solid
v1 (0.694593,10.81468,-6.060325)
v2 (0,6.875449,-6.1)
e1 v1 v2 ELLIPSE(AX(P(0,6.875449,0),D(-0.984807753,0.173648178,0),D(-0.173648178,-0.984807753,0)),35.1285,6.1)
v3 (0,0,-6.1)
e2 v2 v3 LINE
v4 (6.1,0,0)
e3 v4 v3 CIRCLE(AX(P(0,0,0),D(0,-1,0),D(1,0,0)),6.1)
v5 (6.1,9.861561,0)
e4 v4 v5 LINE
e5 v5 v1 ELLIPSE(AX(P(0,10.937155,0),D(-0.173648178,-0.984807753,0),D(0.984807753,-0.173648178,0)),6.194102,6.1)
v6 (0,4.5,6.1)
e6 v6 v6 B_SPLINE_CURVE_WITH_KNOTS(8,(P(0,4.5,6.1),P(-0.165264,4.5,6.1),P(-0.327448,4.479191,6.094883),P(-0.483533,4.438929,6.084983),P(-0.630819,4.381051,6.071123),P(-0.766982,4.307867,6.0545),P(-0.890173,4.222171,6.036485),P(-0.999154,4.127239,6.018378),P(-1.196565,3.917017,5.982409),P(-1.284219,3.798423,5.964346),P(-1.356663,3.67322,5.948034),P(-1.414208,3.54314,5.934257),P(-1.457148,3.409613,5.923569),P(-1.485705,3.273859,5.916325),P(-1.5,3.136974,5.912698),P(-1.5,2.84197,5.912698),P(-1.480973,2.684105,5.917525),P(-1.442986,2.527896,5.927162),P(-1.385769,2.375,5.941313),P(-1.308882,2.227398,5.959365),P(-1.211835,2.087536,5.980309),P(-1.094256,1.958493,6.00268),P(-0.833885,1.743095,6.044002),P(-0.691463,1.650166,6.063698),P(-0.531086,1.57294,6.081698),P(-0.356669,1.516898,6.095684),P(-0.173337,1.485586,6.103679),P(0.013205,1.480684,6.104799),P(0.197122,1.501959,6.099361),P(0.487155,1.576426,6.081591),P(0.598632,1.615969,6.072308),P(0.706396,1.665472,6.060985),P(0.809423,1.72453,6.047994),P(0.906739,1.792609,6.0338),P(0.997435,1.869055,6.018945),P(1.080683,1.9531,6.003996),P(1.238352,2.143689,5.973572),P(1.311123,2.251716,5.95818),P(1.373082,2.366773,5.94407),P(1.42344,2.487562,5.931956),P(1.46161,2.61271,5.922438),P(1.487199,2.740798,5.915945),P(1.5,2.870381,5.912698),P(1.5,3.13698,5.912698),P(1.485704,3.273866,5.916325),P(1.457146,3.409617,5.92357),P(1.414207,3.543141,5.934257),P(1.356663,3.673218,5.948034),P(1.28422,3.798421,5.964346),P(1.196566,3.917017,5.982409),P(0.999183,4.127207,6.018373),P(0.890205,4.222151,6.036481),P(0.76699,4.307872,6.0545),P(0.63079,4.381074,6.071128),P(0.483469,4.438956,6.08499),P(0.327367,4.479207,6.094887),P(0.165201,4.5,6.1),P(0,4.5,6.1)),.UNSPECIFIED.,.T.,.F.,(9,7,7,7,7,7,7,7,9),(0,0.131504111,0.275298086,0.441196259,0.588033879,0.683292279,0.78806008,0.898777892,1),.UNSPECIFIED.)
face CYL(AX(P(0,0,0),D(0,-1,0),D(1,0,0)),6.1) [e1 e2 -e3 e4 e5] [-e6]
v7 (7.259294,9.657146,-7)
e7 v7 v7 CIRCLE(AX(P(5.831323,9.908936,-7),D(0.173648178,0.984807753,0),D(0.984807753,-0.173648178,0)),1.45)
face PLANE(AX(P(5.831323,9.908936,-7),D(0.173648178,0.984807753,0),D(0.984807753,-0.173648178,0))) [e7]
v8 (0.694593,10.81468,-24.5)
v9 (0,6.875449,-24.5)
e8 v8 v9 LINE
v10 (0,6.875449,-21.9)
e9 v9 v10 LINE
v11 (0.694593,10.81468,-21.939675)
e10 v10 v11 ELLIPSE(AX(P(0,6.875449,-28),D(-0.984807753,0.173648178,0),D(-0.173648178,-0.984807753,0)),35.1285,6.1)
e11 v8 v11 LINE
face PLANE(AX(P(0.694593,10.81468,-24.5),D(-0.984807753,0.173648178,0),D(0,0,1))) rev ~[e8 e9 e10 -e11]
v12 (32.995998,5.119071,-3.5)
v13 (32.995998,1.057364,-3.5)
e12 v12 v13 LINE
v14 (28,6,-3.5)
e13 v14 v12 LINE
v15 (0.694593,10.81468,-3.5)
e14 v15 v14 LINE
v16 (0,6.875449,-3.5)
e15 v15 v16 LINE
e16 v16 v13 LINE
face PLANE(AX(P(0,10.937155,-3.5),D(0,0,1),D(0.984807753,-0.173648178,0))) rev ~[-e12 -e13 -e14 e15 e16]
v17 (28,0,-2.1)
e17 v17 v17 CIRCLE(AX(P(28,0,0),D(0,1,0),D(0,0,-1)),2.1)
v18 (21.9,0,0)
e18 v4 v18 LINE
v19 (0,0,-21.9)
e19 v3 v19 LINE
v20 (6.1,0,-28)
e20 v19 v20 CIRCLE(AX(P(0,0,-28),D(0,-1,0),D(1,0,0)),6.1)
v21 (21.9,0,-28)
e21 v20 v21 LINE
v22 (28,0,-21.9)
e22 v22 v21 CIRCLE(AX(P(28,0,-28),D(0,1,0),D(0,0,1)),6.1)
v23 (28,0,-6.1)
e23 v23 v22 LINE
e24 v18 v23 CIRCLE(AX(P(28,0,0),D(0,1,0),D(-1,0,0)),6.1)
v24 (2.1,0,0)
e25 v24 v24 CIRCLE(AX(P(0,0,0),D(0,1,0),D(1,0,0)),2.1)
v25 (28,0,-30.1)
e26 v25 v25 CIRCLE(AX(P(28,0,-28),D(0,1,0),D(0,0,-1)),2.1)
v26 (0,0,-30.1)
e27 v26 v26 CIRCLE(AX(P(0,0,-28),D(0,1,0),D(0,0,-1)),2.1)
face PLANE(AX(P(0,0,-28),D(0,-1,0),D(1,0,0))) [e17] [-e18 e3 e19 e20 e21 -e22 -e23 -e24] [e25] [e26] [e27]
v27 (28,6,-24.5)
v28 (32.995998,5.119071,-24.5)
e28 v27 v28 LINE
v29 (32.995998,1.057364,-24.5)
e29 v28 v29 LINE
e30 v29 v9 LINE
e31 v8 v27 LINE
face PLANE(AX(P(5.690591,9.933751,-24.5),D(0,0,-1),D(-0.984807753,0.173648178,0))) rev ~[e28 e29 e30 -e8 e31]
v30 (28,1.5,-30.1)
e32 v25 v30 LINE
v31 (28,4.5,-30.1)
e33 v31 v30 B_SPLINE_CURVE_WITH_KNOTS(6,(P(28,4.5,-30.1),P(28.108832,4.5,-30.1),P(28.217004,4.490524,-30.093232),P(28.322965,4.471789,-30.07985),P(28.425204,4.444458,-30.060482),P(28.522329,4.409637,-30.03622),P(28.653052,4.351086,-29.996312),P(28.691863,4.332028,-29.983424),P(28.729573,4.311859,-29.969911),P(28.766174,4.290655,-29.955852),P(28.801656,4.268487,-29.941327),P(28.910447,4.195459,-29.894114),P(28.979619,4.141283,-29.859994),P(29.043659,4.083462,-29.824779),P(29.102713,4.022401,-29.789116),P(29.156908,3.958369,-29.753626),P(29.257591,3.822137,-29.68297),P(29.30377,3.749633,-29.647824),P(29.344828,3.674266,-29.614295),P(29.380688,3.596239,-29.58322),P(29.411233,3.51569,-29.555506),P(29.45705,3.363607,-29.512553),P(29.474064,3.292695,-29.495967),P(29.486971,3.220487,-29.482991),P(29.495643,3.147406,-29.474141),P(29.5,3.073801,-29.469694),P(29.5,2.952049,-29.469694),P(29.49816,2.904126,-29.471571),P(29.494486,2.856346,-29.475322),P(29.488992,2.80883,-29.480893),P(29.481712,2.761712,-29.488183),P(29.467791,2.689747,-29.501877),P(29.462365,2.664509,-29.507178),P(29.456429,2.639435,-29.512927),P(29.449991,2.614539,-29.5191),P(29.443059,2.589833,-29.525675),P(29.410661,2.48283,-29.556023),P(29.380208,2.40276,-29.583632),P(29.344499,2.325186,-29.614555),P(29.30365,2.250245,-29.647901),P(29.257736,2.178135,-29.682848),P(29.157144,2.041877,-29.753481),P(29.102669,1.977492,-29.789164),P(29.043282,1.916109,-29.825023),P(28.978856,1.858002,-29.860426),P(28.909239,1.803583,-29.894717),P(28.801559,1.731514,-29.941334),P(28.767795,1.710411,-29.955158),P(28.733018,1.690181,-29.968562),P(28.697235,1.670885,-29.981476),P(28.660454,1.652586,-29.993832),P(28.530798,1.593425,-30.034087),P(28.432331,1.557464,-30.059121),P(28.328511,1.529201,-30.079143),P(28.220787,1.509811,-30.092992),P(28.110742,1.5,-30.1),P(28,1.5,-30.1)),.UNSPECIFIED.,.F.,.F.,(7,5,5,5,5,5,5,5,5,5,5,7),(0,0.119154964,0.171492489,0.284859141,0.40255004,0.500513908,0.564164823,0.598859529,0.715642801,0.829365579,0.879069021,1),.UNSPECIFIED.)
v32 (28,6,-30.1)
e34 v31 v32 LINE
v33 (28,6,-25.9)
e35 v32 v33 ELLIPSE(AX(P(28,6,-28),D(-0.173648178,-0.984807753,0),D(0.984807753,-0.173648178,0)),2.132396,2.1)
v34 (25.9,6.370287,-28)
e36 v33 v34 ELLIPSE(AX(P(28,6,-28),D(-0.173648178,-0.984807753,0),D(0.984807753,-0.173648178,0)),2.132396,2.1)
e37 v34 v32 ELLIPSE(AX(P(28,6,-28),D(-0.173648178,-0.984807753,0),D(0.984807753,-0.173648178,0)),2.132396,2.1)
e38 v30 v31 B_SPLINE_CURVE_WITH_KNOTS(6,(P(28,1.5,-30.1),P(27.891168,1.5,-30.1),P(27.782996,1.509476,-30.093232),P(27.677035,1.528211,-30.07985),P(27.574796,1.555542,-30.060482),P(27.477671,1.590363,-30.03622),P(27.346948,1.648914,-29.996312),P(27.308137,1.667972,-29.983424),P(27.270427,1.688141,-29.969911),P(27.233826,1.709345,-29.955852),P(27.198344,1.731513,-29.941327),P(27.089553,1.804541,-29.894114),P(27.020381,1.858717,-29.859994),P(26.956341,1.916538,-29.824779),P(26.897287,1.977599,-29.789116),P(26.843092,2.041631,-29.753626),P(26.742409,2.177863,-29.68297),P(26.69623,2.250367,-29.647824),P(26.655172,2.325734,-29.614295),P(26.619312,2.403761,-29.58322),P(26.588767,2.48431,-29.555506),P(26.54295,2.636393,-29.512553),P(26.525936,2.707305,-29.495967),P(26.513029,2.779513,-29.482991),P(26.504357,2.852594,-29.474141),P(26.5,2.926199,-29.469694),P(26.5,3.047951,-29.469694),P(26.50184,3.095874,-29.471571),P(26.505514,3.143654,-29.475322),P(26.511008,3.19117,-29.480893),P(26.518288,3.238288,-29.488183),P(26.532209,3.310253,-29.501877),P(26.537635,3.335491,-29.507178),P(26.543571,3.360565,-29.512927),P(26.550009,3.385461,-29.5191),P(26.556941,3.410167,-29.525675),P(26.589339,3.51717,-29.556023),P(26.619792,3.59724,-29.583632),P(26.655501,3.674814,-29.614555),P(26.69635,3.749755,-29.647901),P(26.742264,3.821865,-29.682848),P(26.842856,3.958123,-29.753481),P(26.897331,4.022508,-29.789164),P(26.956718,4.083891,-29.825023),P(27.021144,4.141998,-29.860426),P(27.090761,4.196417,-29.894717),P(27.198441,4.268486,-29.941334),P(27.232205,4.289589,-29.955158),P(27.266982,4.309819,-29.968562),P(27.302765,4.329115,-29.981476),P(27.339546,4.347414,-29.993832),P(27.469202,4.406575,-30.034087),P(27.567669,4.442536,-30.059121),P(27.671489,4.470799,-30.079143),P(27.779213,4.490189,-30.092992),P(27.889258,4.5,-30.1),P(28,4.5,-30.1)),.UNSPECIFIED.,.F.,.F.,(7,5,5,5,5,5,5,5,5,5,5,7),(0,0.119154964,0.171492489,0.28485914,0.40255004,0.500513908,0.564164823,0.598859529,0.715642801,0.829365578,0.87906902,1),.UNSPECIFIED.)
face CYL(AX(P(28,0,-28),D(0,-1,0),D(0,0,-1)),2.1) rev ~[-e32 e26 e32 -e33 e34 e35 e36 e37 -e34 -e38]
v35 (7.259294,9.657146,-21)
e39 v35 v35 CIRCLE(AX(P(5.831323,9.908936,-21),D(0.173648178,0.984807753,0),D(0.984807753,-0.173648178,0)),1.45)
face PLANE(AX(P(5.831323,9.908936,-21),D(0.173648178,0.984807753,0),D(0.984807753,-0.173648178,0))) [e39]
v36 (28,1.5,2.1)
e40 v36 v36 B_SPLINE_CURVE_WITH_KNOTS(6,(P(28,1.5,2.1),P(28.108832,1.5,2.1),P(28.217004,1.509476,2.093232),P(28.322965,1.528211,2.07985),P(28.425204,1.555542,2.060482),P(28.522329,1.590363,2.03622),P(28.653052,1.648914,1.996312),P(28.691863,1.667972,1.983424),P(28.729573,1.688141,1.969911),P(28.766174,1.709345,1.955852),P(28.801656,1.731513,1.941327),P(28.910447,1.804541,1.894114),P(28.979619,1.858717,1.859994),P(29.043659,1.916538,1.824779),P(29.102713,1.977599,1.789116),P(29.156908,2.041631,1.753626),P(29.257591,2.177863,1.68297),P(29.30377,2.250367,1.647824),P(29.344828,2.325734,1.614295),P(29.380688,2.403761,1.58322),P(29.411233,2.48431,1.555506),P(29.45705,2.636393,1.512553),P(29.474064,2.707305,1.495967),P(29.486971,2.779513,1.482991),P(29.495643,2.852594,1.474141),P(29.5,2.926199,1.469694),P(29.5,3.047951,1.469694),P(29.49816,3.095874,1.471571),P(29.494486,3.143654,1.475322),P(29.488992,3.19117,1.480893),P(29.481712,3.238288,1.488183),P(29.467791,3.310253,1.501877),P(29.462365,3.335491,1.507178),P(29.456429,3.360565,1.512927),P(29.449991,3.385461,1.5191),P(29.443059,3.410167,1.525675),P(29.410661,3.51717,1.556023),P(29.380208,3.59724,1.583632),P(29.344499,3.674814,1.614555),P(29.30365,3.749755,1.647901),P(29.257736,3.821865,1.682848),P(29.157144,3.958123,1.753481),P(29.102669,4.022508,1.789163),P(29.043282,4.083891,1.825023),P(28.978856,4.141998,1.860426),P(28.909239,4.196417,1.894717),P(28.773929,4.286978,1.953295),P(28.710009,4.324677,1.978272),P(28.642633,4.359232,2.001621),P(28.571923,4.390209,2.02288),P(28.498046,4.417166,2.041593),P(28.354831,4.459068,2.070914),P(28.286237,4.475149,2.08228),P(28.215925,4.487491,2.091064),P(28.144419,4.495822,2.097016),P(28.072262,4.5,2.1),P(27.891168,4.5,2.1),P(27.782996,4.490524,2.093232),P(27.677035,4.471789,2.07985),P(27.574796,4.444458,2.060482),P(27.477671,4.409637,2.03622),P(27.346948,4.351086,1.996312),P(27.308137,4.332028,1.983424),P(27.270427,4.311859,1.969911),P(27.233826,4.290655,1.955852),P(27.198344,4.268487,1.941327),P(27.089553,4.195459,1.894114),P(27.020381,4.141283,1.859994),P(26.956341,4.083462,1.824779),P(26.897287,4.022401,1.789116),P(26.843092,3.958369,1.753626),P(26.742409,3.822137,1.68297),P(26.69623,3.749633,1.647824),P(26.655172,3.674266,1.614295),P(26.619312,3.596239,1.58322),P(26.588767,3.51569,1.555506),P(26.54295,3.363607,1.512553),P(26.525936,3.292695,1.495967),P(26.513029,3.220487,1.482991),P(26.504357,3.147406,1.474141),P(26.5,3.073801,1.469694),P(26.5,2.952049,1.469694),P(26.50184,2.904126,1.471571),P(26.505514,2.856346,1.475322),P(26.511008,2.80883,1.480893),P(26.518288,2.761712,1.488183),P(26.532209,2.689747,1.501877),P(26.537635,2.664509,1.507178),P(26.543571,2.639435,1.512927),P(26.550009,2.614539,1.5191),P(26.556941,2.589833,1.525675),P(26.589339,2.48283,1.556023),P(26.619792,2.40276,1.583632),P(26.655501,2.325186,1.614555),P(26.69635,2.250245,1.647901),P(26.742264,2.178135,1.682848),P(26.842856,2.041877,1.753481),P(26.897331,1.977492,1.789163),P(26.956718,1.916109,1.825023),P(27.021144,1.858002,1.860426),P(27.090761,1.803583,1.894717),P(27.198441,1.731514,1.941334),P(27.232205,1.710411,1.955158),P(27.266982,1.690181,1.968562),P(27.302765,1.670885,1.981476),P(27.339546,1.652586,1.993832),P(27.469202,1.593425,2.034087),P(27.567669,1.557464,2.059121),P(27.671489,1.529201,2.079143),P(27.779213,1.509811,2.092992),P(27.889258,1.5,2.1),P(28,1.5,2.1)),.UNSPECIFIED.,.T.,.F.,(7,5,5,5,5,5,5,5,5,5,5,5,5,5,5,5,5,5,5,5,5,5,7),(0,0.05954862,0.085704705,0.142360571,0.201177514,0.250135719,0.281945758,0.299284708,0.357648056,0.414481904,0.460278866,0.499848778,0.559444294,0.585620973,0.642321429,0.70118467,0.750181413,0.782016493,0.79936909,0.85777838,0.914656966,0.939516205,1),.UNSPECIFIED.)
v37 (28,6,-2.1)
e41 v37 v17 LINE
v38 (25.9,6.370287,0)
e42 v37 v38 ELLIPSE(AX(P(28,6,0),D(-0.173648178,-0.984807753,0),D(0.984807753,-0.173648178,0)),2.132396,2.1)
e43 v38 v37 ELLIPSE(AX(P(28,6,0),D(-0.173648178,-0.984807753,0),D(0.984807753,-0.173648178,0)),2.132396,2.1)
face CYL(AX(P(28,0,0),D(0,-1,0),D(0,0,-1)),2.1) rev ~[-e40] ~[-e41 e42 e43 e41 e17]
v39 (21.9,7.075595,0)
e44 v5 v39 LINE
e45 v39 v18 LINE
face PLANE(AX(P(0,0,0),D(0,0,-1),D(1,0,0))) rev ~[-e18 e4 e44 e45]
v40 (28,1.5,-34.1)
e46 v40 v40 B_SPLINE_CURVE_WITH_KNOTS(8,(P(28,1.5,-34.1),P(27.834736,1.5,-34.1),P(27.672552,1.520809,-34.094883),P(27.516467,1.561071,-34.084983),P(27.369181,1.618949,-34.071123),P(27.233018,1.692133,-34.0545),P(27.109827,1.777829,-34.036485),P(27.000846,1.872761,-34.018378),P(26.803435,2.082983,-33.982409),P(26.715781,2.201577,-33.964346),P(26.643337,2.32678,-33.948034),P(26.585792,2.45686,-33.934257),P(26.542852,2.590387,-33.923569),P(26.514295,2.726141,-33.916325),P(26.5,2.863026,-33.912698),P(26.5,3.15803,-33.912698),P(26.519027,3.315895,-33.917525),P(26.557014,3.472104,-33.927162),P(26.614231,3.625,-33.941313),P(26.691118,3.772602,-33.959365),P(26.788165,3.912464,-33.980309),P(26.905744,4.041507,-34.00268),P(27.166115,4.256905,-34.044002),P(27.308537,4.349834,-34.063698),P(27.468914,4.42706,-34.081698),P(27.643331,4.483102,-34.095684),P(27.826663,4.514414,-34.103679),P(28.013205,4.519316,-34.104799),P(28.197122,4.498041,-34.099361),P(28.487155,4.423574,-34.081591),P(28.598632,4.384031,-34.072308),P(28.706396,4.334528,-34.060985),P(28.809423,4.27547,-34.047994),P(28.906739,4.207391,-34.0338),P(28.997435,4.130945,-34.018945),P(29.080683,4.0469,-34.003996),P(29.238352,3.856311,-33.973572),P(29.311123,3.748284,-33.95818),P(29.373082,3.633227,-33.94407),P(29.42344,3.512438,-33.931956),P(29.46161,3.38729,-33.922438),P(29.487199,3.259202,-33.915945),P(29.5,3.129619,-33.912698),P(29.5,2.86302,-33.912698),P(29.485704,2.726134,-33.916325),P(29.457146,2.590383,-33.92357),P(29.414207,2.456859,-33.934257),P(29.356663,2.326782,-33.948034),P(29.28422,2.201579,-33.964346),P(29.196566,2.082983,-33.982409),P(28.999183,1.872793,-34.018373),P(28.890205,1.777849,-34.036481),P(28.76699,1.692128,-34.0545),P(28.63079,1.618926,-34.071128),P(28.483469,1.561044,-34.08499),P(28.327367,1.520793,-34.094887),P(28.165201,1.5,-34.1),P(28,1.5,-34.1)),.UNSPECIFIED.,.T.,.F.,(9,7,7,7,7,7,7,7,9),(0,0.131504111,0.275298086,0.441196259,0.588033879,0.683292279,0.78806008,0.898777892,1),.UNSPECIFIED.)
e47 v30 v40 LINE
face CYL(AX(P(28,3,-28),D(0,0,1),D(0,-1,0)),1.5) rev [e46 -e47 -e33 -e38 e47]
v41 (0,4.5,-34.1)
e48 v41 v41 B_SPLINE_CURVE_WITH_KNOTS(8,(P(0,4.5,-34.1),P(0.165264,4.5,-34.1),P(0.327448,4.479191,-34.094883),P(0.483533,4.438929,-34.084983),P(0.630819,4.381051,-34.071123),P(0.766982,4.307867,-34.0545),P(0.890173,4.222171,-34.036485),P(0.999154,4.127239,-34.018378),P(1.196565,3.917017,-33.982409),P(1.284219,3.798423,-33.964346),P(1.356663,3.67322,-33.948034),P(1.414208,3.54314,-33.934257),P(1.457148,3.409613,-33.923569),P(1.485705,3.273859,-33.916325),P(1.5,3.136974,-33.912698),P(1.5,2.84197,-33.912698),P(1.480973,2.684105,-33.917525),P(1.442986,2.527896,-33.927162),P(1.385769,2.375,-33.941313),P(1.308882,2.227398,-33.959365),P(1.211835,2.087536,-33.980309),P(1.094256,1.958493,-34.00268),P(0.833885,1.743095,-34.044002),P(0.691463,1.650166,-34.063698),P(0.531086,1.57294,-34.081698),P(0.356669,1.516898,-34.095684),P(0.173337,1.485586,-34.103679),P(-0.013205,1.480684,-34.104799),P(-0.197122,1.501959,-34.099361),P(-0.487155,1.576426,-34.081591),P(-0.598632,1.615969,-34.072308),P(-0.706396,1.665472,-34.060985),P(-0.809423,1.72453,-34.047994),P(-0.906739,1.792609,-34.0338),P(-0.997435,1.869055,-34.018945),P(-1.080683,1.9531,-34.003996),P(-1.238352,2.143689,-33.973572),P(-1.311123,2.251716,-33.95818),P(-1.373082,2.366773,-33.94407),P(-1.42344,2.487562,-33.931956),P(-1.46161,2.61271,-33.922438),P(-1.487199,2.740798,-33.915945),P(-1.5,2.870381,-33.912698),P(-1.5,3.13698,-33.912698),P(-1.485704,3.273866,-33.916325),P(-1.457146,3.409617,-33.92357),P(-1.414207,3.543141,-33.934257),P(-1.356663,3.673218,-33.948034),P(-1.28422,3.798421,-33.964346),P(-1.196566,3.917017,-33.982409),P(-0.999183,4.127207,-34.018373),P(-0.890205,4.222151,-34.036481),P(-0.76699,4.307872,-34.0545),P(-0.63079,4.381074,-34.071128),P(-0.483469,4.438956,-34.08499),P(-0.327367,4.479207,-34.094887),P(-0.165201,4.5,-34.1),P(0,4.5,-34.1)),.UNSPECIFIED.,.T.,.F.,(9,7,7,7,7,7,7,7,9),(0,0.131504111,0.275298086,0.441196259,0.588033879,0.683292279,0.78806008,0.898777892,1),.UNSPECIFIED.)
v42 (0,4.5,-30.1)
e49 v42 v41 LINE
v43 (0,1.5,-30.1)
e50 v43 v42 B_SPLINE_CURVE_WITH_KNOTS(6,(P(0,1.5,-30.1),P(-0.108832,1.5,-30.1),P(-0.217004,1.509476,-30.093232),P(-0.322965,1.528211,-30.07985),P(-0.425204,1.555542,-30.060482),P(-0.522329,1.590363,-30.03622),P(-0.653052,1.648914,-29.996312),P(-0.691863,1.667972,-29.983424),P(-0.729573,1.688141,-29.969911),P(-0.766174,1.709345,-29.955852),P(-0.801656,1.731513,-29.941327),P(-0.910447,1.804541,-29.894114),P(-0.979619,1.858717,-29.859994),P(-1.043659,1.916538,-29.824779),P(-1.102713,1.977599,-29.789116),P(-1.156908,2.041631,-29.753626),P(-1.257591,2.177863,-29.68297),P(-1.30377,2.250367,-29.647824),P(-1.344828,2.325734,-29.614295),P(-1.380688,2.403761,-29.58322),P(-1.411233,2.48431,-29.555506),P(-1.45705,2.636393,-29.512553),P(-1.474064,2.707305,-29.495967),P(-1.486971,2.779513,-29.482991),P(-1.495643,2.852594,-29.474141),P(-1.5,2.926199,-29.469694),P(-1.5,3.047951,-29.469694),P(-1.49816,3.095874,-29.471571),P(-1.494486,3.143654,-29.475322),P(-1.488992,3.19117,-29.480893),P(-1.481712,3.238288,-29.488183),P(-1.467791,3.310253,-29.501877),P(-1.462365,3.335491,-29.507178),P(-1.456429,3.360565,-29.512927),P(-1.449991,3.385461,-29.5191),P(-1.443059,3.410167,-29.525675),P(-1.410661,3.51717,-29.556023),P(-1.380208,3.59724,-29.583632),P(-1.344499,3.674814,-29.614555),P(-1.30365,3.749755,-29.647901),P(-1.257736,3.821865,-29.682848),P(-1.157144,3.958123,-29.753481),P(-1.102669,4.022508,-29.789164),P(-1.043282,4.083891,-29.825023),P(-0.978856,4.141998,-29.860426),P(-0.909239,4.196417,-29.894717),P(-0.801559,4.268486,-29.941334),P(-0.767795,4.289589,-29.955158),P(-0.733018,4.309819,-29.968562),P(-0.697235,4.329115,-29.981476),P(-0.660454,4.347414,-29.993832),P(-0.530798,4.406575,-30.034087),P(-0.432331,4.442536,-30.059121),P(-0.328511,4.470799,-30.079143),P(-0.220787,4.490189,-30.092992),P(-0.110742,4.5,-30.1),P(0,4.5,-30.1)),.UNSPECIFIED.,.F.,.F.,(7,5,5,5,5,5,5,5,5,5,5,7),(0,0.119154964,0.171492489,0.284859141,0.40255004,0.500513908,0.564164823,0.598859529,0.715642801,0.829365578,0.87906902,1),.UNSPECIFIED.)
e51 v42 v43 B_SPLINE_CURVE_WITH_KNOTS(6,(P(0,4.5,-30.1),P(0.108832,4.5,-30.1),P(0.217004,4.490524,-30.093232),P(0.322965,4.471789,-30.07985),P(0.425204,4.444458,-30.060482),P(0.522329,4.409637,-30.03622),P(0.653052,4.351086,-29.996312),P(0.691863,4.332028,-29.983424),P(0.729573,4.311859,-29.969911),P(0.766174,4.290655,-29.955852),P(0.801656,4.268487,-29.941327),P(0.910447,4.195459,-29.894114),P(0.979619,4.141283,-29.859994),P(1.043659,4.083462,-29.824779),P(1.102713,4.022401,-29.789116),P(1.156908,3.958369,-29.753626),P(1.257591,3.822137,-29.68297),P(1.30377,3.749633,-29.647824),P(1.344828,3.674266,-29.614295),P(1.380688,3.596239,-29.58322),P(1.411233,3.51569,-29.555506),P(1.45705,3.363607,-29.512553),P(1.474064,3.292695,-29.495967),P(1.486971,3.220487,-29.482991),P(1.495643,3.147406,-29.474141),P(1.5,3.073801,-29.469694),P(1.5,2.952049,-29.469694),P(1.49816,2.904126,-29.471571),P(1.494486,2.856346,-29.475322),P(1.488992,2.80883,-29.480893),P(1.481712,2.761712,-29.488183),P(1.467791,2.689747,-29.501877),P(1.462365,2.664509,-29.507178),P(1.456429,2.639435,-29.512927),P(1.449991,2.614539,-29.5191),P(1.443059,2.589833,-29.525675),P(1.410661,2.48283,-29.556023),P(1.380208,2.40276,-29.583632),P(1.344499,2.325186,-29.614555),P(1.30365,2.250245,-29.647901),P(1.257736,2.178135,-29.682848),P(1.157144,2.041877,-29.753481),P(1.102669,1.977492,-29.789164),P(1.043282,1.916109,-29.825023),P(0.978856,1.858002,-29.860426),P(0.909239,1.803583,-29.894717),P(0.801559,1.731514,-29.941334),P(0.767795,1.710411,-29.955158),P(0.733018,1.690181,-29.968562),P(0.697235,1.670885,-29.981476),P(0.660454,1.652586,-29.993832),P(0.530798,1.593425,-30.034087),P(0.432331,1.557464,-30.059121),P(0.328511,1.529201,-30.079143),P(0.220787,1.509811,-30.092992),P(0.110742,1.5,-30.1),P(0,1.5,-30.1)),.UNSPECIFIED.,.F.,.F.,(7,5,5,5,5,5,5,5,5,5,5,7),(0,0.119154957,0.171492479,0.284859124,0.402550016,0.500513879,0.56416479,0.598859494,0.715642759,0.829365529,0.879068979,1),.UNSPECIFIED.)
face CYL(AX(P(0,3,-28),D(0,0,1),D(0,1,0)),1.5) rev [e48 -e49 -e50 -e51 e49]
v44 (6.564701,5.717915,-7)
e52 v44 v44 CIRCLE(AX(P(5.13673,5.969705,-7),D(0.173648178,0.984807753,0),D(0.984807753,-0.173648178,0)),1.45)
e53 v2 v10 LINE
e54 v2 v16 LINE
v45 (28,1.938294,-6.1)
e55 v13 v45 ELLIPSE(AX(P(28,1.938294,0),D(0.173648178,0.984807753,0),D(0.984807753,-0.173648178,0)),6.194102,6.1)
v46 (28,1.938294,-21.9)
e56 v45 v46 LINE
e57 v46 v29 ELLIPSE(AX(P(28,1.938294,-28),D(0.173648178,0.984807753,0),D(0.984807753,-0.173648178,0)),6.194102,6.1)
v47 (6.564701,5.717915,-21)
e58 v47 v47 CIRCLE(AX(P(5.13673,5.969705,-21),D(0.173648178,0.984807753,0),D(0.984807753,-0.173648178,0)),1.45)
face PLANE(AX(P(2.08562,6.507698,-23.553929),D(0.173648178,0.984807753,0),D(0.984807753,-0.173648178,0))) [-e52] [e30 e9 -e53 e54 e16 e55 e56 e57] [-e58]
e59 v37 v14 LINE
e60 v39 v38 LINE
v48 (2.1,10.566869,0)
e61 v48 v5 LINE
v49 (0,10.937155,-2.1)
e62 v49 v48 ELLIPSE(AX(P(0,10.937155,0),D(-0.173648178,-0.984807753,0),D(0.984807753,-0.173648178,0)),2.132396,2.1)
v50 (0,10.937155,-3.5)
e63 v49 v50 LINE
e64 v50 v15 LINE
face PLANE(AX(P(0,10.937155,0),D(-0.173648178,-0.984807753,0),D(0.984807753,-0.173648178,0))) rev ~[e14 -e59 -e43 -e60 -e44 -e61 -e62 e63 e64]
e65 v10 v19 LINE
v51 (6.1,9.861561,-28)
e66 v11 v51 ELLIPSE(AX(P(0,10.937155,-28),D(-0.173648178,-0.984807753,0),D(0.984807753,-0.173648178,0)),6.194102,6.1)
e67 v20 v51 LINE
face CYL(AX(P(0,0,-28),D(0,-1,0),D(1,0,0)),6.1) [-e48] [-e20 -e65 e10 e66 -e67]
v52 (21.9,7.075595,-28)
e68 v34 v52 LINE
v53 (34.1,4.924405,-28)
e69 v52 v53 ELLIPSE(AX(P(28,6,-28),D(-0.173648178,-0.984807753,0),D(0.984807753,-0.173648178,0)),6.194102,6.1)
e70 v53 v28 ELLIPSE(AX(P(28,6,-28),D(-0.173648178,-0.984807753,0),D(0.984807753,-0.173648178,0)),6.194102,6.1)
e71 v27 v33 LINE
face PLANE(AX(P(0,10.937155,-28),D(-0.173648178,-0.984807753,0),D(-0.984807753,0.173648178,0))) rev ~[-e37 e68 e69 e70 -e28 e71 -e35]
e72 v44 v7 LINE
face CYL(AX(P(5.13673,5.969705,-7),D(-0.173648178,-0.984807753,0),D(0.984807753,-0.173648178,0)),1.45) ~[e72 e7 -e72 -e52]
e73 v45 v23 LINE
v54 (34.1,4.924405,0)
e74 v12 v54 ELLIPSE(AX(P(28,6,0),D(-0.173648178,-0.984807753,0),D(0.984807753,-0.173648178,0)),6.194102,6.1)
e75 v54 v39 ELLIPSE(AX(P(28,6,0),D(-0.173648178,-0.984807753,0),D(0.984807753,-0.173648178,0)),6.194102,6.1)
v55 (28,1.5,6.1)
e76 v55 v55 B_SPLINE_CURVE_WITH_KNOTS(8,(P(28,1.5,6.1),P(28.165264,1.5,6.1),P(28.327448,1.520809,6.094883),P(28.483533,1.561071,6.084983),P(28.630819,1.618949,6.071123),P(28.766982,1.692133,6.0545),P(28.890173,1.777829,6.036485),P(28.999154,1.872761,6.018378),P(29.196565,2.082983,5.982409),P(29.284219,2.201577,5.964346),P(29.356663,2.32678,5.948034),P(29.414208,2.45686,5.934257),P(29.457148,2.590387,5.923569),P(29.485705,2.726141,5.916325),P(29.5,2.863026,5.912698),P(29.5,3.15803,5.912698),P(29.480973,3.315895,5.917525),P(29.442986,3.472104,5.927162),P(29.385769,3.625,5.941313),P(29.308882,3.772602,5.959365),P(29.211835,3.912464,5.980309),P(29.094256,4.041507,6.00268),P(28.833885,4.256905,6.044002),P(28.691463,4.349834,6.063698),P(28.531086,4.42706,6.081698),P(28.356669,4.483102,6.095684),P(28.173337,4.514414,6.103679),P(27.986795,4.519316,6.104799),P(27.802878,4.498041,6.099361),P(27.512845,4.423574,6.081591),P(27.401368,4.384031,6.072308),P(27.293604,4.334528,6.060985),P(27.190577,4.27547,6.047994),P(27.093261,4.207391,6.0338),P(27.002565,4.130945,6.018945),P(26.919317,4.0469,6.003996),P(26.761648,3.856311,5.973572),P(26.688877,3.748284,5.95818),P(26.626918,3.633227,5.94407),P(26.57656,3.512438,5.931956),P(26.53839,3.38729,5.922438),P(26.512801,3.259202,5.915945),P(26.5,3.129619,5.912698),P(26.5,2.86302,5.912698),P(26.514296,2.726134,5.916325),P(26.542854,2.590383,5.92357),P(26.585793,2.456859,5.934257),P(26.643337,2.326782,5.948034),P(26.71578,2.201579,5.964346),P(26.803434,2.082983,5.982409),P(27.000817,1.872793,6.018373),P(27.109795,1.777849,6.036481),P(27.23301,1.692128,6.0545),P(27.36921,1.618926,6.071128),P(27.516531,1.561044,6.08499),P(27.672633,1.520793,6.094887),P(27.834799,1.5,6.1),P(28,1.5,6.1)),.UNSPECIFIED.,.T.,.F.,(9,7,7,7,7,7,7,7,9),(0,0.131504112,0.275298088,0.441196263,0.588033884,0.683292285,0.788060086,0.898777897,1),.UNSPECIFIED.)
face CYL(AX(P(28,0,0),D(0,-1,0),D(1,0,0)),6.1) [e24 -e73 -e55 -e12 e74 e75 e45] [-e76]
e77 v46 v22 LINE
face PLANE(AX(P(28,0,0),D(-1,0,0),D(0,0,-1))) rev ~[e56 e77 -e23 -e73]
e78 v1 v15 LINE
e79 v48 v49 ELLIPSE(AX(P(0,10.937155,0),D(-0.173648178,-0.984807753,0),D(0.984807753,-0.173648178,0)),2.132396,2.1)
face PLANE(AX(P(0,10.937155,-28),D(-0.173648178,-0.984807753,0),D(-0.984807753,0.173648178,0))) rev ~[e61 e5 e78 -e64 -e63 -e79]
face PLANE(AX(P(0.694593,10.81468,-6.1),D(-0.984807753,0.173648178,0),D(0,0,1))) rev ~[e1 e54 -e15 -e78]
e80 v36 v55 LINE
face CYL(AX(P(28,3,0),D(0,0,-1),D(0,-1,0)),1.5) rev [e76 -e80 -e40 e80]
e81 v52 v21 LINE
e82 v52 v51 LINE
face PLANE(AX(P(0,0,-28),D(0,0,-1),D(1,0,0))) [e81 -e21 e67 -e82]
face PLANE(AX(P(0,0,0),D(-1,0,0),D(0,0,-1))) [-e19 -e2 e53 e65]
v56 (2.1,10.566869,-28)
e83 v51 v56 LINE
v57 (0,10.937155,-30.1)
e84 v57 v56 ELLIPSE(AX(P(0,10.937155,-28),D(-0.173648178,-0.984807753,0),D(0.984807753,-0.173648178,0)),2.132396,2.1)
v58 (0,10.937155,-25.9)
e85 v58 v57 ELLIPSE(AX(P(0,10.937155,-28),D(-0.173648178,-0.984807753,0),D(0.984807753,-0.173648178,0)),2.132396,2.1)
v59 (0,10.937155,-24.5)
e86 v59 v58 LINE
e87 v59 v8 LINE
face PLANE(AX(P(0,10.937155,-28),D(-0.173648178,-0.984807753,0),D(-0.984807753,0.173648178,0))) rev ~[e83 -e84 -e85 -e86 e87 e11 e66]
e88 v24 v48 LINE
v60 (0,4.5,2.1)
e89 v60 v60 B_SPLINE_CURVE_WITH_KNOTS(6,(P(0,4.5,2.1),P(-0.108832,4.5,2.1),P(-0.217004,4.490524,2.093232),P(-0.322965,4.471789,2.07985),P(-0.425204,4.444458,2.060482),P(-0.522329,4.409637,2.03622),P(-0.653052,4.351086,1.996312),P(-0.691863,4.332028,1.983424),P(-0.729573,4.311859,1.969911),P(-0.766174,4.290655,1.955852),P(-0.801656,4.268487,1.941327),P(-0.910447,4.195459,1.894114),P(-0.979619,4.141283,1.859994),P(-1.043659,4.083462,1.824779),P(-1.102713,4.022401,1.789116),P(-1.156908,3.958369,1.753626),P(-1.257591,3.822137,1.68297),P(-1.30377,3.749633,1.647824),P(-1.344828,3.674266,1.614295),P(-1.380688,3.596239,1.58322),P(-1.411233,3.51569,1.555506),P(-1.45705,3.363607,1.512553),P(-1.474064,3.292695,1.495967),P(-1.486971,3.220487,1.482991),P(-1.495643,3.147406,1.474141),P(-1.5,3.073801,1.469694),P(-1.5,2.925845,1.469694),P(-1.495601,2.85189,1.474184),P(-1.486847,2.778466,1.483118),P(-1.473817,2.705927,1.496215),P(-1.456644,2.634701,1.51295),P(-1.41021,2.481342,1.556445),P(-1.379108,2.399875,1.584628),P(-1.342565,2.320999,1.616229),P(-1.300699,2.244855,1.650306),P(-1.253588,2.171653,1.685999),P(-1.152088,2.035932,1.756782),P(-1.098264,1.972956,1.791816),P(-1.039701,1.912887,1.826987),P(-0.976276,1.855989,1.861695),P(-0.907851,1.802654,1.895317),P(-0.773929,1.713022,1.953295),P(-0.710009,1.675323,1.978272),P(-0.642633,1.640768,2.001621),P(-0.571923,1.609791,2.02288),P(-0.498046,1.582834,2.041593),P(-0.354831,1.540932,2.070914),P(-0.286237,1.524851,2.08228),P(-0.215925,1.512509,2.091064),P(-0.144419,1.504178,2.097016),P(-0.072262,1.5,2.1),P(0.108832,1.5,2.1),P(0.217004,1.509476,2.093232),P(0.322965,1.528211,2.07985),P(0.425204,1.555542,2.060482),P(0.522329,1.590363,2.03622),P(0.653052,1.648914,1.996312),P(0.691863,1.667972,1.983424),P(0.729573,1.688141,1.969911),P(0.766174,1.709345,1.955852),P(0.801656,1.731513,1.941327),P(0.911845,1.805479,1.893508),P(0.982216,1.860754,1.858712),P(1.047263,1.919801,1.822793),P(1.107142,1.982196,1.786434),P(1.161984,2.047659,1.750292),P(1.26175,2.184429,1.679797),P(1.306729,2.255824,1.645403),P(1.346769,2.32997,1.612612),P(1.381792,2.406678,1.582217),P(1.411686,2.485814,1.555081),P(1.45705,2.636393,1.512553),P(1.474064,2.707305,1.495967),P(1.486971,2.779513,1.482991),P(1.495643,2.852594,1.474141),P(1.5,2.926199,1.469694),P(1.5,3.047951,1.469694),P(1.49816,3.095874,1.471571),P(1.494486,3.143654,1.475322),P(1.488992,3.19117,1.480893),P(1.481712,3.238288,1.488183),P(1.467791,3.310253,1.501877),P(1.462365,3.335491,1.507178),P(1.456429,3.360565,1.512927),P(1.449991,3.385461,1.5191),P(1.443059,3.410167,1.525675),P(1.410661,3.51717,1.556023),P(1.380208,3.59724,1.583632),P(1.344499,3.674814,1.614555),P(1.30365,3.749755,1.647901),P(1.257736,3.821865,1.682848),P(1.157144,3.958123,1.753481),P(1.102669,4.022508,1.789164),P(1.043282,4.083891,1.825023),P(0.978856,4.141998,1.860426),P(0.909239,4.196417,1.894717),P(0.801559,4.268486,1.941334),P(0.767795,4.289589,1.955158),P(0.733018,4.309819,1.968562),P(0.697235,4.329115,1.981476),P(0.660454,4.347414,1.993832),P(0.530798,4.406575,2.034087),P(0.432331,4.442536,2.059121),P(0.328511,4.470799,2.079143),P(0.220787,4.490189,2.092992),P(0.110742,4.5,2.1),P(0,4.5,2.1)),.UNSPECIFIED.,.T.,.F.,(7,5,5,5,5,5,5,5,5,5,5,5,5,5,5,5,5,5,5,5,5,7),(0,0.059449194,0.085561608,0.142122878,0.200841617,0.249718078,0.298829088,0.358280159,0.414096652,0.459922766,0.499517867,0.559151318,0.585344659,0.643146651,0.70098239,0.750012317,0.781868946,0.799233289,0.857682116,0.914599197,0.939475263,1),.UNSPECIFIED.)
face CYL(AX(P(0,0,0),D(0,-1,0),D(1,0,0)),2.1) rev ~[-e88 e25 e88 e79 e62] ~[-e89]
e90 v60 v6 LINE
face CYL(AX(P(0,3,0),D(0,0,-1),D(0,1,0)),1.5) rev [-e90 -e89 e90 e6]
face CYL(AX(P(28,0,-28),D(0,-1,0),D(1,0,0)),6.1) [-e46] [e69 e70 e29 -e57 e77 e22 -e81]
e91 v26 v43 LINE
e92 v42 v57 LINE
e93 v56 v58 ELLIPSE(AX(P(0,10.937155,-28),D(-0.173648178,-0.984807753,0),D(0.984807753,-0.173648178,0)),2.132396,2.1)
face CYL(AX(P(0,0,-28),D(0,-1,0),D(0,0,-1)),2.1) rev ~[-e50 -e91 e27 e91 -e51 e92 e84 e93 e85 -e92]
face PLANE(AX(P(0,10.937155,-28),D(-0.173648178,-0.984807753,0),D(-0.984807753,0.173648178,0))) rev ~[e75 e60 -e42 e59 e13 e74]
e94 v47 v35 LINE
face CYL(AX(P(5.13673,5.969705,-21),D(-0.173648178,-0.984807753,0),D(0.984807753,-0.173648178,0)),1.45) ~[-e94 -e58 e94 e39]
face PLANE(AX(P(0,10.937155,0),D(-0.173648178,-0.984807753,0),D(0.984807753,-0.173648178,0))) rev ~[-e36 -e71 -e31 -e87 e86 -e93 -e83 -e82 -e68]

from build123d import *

# Parameters (mm, degrees)
SKETCH1_W           = 28
SKETCH1_H           = 28
BOSS_EXTRUDE1_DEPTH = 10.93715546
CUT_EXTRUDE1_DEPTH  = 42.080669049
SKETCH3_W           = 50
SKETCH3_H           = 21
CUT_EXTRUDE2_DEPTH  = 4
SKETCH11_R          = 1.45
BOSS_EXTRUDE2_DEPTH = 4
SKETCH13_R          = 2.1
CUT_EXTRUDE5_DEPTH  = 42.080669049
BOSS_EXTRUDE3_REACH = 43.081
SKETCH14_R          = 6.1
SKETCH14_R_2        = 2.1
SKETCH15_R          = 1.5
CUT_EXTRUDE6_DEPTH  = 50.698351719
SKETCH16_R          = 1.5
CUT_EXTRUDE7_DEPTH  = 50.69835188
SKETCH18_W          = 30
SKETCH18_H          = 21
CUT_EXTRUDE8_DEPTH  = 4


with BuildPart() as part:
    # Sketch1 → Boss-Extrude1 (new body)
    with BuildSketch(Plane(origin=(0, 0, 0), x_dir=(1, 0, 0), z_dir=(0, 1, 0))):
        with Locations((14, 14)):
            Rectangle(SKETCH1_W, SKETCH1_H)
    extrude(amount=BOSS_EXTRUDE1_DEPTH)

    # Sketch2 → Cut-Extrude1 (cut, through all)
    with BuildSketch(Plane.XY):
        Polygon((0, 10.93715546), (28, 6), (28, 10.93715546), align=None)
    extrude(amount=-CUT_EXTRUDE1_DEPTH, mode=Mode.SUBTRACT)

    # Sketch3 → Cut-Extrude2 (cut)
    with BuildSketch(Plane(origin=(1.870363739, 10.607359869, 0), x_dir=(0.9848077530122081, -0.17364817766693036, 0), z_dir=(0.17364817766693036, 0.9848077530122081, 0))):
        with Locations((23.100782886, 14)):
            Rectangle(SKETCH3_W, SKETCH3_H)
    extrude(amount=-CUT_EXTRUDE2_DEPTH, mode=Mode.SUBTRACT)

    # Sketch11 → Boss-Extrude2 (add)
    with BuildSketch(Plane(origin=(1.175771028, 6.668128857, 0), x_dir=(0.9848077530122081, -0.17364817766693033, 0), z_dir=(0.1736481776669303, 0.984807753012208, 0))):
        with Locations((4.022063375, 21)):
            Circle(SKETCH11_R)
        with Locations((4.022063375, 7)):
            Circle(SKETCH11_R)
    extrude(amount=BOSS_EXTRUDE2_DEPTH)

    # Sketch13 → Cut-Extrude5 (cut, through all)
    with BuildSketch(Plane.XZ):
        Circle(SKETCH13_R)
        with Locations((28, 0)):
            Circle(SKETCH13_R)
        with Locations((28, -28)):
            Circle(SKETCH13_R)
        with Locations((0, -28)):
            Circle(SKETCH13_R)
    extrude(amount=-CUT_EXTRUDE5_DEPTH, mode=Mode.SUBTRACT)

    # Boss-Extrude3: up to this plane
    boss_extrude3_end = Plane(origin=(0, 10.93715546, -28), z_dir=(-0.17364817766693036, -0.9848077530122081, 0))
    # Sketch14 → Boss-Extrude3 (add, up to the surface)
    with BuildSketch(Plane.XZ, mode=Mode.PRIVATE) as boss_extrude3_sk1:
        Circle(SKETCH14_R)
        with Locations(Location((0, 0, 0), (0, 0, 270))):
            Circle(SKETCH14_R_2, mode=Mode.SUBTRACT)
    boss_extrude3_tool1 = split(extrude(boss_extrude3_sk1.sketch, amount=-BOSS_EXTRUDE3_REACH, mode=Mode.PRIVATE), bisect_by=boss_extrude3_end, keep=Keep.BOTH, mode=Mode.PRIVATE)
    add(boss_extrude3_tool1.solids().sort_by_distance((-5.927466, 0, 0))[0])
    # Sketch14 → Boss-Extrude3 (add, up to the surface)
    with BuildSketch(Plane.XZ, mode=Mode.PRIVATE) as boss_extrude3_sk2:
        with Locations((28, 0)):
            Circle(SKETCH14_R)
        with Locations(Location((28, 0, 0), (0, 0, 270))):
            Circle(SKETCH14_R_2, mode=Mode.SUBTRACT)
    boss_extrude3_tool2 = split(extrude(boss_extrude3_sk2.sketch, amount=-BOSS_EXTRUDE3_REACH, mode=Mode.PRIVATE), bisect_by=boss_extrude3_end, keep=Keep.BOTH, mode=Mode.PRIVATE)
    add(boss_extrude3_tool2.solids().sort_by_distance((22.072534, 0, 0))[0])
    # Sketch14 → Boss-Extrude3 (add, up to the surface)
    with BuildSketch(Plane.XZ, mode=Mode.PRIVATE) as boss_extrude3_sk3:
        with Locations((28, -28)):
            Circle(SKETCH14_R)
        with Locations(Location((28, -28, 0), (0, 0, 270))):
            Circle(SKETCH14_R_2, mode=Mode.SUBTRACT)
    boss_extrude3_tool3 = split(extrude(boss_extrude3_sk3.sketch, amount=-BOSS_EXTRUDE3_REACH, mode=Mode.PRIVATE), bisect_by=boss_extrude3_end, keep=Keep.BOTH, mode=Mode.PRIVATE)
    add(boss_extrude3_tool3.solids().sort_by_distance((22.072534, 0, -28))[0])
    # Sketch14 → Boss-Extrude3 (add, up to the surface)
    with BuildSketch(Plane.XZ, mode=Mode.PRIVATE) as boss_extrude3_sk4:
        with Locations((0, -28)):
            Circle(SKETCH14_R)
        with Locations(Location((0, -28, 0), (0, 0, 270))):
            Circle(SKETCH14_R_2, mode=Mode.SUBTRACT)
    boss_extrude3_tool4 = split(extrude(boss_extrude3_sk4.sketch, amount=-BOSS_EXTRUDE3_REACH, mode=Mode.PRIVATE), bisect_by=boss_extrude3_end, keep=Keep.BOTH, mode=Mode.PRIVATE)
    add(boss_extrude3_tool4.solids().sort_by_distance((-5.927466, 0, -28))[0])

    # Sketch15 → Cut-Extrude6 (cut, through all)
    with BuildSketch(Plane(origin=(0, 0, -28), x_dir=(-1, 0, 0), z_dir=(0, 0, -1))):
        with Locations(Location((-28, 3, 0), (0, 0, 270))):
            Circle(SKETCH15_R)
        with Locations(Location((0, 3, 0), (0, 0, 90))):
            Circle(SKETCH15_R)
    extrude(amount=CUT_EXTRUDE6_DEPTH, mode=Mode.SUBTRACT)

    # Sketch16 → Cut-Extrude7 (cut, through all)
    with BuildSketch(Plane.XY):
        with Locations(Location((0, 3, 0), (0, 0, 90))):
            Circle(SKETCH16_R)
        with Locations(Location((28, 3, 0), (0, 0, 270))):
            Circle(SKETCH16_R)
    extrude(amount=CUT_EXTRUDE7_DEPTH, mode=Mode.SUBTRACT)

    # Sketch18 → Cut-Extrude8 (cut)
    with BuildSketch(Plane(origin=(1.870363739, 10.607359869, 0), x_dir=(0.9848077530122081, -0.17364817766693036, 0), z_dir=(0.17364817766693036, 0.9848077530122081, 0))):
        with BuildLine():
            Line((3.879160535, 24.5), (-1.193909192, 24.5))
            Line((-1.193909192, 24.5), (-1.193909192, 21.9))
            add(Edge.make_bspline(
                [(-1.193909192, 21.9), (2.029603864, 21.9), (3.879160535, 24.5)],
                knots=[4.71238898, 4.71238898, 4.71238898, 5.672083151, 5.672083151, 5.672083151], degree=2, weights=[1, 0.887065525, 1]))
        make_face()
        with Locations((21.459658291, 14)):
            Rectangle(SKETCH18_W, SKETCH18_H)
        with BuildLine():
            Line((-1.193909192, 6.1), (-1.193909192, 3.5))
            Line((-1.193909192, 3.5), (3.879160535, 3.5))
            add(Edge.make_bspline(
                [(3.879160535, 3.5), (2.029603864, 6.1), (-1.193909192, 6.1)],
                knots=[0.611102156, 0.611102156, 0.611102156, 1.570796327, 1.570796327, 1.570796327], degree=2, weights=[1, 0.887065525, 1]))
        make_face()
    extrude(amount=-CUT_EXTRUDE8_DEPTH, mode=Mode.SUBTRACT)


solid = part.part
